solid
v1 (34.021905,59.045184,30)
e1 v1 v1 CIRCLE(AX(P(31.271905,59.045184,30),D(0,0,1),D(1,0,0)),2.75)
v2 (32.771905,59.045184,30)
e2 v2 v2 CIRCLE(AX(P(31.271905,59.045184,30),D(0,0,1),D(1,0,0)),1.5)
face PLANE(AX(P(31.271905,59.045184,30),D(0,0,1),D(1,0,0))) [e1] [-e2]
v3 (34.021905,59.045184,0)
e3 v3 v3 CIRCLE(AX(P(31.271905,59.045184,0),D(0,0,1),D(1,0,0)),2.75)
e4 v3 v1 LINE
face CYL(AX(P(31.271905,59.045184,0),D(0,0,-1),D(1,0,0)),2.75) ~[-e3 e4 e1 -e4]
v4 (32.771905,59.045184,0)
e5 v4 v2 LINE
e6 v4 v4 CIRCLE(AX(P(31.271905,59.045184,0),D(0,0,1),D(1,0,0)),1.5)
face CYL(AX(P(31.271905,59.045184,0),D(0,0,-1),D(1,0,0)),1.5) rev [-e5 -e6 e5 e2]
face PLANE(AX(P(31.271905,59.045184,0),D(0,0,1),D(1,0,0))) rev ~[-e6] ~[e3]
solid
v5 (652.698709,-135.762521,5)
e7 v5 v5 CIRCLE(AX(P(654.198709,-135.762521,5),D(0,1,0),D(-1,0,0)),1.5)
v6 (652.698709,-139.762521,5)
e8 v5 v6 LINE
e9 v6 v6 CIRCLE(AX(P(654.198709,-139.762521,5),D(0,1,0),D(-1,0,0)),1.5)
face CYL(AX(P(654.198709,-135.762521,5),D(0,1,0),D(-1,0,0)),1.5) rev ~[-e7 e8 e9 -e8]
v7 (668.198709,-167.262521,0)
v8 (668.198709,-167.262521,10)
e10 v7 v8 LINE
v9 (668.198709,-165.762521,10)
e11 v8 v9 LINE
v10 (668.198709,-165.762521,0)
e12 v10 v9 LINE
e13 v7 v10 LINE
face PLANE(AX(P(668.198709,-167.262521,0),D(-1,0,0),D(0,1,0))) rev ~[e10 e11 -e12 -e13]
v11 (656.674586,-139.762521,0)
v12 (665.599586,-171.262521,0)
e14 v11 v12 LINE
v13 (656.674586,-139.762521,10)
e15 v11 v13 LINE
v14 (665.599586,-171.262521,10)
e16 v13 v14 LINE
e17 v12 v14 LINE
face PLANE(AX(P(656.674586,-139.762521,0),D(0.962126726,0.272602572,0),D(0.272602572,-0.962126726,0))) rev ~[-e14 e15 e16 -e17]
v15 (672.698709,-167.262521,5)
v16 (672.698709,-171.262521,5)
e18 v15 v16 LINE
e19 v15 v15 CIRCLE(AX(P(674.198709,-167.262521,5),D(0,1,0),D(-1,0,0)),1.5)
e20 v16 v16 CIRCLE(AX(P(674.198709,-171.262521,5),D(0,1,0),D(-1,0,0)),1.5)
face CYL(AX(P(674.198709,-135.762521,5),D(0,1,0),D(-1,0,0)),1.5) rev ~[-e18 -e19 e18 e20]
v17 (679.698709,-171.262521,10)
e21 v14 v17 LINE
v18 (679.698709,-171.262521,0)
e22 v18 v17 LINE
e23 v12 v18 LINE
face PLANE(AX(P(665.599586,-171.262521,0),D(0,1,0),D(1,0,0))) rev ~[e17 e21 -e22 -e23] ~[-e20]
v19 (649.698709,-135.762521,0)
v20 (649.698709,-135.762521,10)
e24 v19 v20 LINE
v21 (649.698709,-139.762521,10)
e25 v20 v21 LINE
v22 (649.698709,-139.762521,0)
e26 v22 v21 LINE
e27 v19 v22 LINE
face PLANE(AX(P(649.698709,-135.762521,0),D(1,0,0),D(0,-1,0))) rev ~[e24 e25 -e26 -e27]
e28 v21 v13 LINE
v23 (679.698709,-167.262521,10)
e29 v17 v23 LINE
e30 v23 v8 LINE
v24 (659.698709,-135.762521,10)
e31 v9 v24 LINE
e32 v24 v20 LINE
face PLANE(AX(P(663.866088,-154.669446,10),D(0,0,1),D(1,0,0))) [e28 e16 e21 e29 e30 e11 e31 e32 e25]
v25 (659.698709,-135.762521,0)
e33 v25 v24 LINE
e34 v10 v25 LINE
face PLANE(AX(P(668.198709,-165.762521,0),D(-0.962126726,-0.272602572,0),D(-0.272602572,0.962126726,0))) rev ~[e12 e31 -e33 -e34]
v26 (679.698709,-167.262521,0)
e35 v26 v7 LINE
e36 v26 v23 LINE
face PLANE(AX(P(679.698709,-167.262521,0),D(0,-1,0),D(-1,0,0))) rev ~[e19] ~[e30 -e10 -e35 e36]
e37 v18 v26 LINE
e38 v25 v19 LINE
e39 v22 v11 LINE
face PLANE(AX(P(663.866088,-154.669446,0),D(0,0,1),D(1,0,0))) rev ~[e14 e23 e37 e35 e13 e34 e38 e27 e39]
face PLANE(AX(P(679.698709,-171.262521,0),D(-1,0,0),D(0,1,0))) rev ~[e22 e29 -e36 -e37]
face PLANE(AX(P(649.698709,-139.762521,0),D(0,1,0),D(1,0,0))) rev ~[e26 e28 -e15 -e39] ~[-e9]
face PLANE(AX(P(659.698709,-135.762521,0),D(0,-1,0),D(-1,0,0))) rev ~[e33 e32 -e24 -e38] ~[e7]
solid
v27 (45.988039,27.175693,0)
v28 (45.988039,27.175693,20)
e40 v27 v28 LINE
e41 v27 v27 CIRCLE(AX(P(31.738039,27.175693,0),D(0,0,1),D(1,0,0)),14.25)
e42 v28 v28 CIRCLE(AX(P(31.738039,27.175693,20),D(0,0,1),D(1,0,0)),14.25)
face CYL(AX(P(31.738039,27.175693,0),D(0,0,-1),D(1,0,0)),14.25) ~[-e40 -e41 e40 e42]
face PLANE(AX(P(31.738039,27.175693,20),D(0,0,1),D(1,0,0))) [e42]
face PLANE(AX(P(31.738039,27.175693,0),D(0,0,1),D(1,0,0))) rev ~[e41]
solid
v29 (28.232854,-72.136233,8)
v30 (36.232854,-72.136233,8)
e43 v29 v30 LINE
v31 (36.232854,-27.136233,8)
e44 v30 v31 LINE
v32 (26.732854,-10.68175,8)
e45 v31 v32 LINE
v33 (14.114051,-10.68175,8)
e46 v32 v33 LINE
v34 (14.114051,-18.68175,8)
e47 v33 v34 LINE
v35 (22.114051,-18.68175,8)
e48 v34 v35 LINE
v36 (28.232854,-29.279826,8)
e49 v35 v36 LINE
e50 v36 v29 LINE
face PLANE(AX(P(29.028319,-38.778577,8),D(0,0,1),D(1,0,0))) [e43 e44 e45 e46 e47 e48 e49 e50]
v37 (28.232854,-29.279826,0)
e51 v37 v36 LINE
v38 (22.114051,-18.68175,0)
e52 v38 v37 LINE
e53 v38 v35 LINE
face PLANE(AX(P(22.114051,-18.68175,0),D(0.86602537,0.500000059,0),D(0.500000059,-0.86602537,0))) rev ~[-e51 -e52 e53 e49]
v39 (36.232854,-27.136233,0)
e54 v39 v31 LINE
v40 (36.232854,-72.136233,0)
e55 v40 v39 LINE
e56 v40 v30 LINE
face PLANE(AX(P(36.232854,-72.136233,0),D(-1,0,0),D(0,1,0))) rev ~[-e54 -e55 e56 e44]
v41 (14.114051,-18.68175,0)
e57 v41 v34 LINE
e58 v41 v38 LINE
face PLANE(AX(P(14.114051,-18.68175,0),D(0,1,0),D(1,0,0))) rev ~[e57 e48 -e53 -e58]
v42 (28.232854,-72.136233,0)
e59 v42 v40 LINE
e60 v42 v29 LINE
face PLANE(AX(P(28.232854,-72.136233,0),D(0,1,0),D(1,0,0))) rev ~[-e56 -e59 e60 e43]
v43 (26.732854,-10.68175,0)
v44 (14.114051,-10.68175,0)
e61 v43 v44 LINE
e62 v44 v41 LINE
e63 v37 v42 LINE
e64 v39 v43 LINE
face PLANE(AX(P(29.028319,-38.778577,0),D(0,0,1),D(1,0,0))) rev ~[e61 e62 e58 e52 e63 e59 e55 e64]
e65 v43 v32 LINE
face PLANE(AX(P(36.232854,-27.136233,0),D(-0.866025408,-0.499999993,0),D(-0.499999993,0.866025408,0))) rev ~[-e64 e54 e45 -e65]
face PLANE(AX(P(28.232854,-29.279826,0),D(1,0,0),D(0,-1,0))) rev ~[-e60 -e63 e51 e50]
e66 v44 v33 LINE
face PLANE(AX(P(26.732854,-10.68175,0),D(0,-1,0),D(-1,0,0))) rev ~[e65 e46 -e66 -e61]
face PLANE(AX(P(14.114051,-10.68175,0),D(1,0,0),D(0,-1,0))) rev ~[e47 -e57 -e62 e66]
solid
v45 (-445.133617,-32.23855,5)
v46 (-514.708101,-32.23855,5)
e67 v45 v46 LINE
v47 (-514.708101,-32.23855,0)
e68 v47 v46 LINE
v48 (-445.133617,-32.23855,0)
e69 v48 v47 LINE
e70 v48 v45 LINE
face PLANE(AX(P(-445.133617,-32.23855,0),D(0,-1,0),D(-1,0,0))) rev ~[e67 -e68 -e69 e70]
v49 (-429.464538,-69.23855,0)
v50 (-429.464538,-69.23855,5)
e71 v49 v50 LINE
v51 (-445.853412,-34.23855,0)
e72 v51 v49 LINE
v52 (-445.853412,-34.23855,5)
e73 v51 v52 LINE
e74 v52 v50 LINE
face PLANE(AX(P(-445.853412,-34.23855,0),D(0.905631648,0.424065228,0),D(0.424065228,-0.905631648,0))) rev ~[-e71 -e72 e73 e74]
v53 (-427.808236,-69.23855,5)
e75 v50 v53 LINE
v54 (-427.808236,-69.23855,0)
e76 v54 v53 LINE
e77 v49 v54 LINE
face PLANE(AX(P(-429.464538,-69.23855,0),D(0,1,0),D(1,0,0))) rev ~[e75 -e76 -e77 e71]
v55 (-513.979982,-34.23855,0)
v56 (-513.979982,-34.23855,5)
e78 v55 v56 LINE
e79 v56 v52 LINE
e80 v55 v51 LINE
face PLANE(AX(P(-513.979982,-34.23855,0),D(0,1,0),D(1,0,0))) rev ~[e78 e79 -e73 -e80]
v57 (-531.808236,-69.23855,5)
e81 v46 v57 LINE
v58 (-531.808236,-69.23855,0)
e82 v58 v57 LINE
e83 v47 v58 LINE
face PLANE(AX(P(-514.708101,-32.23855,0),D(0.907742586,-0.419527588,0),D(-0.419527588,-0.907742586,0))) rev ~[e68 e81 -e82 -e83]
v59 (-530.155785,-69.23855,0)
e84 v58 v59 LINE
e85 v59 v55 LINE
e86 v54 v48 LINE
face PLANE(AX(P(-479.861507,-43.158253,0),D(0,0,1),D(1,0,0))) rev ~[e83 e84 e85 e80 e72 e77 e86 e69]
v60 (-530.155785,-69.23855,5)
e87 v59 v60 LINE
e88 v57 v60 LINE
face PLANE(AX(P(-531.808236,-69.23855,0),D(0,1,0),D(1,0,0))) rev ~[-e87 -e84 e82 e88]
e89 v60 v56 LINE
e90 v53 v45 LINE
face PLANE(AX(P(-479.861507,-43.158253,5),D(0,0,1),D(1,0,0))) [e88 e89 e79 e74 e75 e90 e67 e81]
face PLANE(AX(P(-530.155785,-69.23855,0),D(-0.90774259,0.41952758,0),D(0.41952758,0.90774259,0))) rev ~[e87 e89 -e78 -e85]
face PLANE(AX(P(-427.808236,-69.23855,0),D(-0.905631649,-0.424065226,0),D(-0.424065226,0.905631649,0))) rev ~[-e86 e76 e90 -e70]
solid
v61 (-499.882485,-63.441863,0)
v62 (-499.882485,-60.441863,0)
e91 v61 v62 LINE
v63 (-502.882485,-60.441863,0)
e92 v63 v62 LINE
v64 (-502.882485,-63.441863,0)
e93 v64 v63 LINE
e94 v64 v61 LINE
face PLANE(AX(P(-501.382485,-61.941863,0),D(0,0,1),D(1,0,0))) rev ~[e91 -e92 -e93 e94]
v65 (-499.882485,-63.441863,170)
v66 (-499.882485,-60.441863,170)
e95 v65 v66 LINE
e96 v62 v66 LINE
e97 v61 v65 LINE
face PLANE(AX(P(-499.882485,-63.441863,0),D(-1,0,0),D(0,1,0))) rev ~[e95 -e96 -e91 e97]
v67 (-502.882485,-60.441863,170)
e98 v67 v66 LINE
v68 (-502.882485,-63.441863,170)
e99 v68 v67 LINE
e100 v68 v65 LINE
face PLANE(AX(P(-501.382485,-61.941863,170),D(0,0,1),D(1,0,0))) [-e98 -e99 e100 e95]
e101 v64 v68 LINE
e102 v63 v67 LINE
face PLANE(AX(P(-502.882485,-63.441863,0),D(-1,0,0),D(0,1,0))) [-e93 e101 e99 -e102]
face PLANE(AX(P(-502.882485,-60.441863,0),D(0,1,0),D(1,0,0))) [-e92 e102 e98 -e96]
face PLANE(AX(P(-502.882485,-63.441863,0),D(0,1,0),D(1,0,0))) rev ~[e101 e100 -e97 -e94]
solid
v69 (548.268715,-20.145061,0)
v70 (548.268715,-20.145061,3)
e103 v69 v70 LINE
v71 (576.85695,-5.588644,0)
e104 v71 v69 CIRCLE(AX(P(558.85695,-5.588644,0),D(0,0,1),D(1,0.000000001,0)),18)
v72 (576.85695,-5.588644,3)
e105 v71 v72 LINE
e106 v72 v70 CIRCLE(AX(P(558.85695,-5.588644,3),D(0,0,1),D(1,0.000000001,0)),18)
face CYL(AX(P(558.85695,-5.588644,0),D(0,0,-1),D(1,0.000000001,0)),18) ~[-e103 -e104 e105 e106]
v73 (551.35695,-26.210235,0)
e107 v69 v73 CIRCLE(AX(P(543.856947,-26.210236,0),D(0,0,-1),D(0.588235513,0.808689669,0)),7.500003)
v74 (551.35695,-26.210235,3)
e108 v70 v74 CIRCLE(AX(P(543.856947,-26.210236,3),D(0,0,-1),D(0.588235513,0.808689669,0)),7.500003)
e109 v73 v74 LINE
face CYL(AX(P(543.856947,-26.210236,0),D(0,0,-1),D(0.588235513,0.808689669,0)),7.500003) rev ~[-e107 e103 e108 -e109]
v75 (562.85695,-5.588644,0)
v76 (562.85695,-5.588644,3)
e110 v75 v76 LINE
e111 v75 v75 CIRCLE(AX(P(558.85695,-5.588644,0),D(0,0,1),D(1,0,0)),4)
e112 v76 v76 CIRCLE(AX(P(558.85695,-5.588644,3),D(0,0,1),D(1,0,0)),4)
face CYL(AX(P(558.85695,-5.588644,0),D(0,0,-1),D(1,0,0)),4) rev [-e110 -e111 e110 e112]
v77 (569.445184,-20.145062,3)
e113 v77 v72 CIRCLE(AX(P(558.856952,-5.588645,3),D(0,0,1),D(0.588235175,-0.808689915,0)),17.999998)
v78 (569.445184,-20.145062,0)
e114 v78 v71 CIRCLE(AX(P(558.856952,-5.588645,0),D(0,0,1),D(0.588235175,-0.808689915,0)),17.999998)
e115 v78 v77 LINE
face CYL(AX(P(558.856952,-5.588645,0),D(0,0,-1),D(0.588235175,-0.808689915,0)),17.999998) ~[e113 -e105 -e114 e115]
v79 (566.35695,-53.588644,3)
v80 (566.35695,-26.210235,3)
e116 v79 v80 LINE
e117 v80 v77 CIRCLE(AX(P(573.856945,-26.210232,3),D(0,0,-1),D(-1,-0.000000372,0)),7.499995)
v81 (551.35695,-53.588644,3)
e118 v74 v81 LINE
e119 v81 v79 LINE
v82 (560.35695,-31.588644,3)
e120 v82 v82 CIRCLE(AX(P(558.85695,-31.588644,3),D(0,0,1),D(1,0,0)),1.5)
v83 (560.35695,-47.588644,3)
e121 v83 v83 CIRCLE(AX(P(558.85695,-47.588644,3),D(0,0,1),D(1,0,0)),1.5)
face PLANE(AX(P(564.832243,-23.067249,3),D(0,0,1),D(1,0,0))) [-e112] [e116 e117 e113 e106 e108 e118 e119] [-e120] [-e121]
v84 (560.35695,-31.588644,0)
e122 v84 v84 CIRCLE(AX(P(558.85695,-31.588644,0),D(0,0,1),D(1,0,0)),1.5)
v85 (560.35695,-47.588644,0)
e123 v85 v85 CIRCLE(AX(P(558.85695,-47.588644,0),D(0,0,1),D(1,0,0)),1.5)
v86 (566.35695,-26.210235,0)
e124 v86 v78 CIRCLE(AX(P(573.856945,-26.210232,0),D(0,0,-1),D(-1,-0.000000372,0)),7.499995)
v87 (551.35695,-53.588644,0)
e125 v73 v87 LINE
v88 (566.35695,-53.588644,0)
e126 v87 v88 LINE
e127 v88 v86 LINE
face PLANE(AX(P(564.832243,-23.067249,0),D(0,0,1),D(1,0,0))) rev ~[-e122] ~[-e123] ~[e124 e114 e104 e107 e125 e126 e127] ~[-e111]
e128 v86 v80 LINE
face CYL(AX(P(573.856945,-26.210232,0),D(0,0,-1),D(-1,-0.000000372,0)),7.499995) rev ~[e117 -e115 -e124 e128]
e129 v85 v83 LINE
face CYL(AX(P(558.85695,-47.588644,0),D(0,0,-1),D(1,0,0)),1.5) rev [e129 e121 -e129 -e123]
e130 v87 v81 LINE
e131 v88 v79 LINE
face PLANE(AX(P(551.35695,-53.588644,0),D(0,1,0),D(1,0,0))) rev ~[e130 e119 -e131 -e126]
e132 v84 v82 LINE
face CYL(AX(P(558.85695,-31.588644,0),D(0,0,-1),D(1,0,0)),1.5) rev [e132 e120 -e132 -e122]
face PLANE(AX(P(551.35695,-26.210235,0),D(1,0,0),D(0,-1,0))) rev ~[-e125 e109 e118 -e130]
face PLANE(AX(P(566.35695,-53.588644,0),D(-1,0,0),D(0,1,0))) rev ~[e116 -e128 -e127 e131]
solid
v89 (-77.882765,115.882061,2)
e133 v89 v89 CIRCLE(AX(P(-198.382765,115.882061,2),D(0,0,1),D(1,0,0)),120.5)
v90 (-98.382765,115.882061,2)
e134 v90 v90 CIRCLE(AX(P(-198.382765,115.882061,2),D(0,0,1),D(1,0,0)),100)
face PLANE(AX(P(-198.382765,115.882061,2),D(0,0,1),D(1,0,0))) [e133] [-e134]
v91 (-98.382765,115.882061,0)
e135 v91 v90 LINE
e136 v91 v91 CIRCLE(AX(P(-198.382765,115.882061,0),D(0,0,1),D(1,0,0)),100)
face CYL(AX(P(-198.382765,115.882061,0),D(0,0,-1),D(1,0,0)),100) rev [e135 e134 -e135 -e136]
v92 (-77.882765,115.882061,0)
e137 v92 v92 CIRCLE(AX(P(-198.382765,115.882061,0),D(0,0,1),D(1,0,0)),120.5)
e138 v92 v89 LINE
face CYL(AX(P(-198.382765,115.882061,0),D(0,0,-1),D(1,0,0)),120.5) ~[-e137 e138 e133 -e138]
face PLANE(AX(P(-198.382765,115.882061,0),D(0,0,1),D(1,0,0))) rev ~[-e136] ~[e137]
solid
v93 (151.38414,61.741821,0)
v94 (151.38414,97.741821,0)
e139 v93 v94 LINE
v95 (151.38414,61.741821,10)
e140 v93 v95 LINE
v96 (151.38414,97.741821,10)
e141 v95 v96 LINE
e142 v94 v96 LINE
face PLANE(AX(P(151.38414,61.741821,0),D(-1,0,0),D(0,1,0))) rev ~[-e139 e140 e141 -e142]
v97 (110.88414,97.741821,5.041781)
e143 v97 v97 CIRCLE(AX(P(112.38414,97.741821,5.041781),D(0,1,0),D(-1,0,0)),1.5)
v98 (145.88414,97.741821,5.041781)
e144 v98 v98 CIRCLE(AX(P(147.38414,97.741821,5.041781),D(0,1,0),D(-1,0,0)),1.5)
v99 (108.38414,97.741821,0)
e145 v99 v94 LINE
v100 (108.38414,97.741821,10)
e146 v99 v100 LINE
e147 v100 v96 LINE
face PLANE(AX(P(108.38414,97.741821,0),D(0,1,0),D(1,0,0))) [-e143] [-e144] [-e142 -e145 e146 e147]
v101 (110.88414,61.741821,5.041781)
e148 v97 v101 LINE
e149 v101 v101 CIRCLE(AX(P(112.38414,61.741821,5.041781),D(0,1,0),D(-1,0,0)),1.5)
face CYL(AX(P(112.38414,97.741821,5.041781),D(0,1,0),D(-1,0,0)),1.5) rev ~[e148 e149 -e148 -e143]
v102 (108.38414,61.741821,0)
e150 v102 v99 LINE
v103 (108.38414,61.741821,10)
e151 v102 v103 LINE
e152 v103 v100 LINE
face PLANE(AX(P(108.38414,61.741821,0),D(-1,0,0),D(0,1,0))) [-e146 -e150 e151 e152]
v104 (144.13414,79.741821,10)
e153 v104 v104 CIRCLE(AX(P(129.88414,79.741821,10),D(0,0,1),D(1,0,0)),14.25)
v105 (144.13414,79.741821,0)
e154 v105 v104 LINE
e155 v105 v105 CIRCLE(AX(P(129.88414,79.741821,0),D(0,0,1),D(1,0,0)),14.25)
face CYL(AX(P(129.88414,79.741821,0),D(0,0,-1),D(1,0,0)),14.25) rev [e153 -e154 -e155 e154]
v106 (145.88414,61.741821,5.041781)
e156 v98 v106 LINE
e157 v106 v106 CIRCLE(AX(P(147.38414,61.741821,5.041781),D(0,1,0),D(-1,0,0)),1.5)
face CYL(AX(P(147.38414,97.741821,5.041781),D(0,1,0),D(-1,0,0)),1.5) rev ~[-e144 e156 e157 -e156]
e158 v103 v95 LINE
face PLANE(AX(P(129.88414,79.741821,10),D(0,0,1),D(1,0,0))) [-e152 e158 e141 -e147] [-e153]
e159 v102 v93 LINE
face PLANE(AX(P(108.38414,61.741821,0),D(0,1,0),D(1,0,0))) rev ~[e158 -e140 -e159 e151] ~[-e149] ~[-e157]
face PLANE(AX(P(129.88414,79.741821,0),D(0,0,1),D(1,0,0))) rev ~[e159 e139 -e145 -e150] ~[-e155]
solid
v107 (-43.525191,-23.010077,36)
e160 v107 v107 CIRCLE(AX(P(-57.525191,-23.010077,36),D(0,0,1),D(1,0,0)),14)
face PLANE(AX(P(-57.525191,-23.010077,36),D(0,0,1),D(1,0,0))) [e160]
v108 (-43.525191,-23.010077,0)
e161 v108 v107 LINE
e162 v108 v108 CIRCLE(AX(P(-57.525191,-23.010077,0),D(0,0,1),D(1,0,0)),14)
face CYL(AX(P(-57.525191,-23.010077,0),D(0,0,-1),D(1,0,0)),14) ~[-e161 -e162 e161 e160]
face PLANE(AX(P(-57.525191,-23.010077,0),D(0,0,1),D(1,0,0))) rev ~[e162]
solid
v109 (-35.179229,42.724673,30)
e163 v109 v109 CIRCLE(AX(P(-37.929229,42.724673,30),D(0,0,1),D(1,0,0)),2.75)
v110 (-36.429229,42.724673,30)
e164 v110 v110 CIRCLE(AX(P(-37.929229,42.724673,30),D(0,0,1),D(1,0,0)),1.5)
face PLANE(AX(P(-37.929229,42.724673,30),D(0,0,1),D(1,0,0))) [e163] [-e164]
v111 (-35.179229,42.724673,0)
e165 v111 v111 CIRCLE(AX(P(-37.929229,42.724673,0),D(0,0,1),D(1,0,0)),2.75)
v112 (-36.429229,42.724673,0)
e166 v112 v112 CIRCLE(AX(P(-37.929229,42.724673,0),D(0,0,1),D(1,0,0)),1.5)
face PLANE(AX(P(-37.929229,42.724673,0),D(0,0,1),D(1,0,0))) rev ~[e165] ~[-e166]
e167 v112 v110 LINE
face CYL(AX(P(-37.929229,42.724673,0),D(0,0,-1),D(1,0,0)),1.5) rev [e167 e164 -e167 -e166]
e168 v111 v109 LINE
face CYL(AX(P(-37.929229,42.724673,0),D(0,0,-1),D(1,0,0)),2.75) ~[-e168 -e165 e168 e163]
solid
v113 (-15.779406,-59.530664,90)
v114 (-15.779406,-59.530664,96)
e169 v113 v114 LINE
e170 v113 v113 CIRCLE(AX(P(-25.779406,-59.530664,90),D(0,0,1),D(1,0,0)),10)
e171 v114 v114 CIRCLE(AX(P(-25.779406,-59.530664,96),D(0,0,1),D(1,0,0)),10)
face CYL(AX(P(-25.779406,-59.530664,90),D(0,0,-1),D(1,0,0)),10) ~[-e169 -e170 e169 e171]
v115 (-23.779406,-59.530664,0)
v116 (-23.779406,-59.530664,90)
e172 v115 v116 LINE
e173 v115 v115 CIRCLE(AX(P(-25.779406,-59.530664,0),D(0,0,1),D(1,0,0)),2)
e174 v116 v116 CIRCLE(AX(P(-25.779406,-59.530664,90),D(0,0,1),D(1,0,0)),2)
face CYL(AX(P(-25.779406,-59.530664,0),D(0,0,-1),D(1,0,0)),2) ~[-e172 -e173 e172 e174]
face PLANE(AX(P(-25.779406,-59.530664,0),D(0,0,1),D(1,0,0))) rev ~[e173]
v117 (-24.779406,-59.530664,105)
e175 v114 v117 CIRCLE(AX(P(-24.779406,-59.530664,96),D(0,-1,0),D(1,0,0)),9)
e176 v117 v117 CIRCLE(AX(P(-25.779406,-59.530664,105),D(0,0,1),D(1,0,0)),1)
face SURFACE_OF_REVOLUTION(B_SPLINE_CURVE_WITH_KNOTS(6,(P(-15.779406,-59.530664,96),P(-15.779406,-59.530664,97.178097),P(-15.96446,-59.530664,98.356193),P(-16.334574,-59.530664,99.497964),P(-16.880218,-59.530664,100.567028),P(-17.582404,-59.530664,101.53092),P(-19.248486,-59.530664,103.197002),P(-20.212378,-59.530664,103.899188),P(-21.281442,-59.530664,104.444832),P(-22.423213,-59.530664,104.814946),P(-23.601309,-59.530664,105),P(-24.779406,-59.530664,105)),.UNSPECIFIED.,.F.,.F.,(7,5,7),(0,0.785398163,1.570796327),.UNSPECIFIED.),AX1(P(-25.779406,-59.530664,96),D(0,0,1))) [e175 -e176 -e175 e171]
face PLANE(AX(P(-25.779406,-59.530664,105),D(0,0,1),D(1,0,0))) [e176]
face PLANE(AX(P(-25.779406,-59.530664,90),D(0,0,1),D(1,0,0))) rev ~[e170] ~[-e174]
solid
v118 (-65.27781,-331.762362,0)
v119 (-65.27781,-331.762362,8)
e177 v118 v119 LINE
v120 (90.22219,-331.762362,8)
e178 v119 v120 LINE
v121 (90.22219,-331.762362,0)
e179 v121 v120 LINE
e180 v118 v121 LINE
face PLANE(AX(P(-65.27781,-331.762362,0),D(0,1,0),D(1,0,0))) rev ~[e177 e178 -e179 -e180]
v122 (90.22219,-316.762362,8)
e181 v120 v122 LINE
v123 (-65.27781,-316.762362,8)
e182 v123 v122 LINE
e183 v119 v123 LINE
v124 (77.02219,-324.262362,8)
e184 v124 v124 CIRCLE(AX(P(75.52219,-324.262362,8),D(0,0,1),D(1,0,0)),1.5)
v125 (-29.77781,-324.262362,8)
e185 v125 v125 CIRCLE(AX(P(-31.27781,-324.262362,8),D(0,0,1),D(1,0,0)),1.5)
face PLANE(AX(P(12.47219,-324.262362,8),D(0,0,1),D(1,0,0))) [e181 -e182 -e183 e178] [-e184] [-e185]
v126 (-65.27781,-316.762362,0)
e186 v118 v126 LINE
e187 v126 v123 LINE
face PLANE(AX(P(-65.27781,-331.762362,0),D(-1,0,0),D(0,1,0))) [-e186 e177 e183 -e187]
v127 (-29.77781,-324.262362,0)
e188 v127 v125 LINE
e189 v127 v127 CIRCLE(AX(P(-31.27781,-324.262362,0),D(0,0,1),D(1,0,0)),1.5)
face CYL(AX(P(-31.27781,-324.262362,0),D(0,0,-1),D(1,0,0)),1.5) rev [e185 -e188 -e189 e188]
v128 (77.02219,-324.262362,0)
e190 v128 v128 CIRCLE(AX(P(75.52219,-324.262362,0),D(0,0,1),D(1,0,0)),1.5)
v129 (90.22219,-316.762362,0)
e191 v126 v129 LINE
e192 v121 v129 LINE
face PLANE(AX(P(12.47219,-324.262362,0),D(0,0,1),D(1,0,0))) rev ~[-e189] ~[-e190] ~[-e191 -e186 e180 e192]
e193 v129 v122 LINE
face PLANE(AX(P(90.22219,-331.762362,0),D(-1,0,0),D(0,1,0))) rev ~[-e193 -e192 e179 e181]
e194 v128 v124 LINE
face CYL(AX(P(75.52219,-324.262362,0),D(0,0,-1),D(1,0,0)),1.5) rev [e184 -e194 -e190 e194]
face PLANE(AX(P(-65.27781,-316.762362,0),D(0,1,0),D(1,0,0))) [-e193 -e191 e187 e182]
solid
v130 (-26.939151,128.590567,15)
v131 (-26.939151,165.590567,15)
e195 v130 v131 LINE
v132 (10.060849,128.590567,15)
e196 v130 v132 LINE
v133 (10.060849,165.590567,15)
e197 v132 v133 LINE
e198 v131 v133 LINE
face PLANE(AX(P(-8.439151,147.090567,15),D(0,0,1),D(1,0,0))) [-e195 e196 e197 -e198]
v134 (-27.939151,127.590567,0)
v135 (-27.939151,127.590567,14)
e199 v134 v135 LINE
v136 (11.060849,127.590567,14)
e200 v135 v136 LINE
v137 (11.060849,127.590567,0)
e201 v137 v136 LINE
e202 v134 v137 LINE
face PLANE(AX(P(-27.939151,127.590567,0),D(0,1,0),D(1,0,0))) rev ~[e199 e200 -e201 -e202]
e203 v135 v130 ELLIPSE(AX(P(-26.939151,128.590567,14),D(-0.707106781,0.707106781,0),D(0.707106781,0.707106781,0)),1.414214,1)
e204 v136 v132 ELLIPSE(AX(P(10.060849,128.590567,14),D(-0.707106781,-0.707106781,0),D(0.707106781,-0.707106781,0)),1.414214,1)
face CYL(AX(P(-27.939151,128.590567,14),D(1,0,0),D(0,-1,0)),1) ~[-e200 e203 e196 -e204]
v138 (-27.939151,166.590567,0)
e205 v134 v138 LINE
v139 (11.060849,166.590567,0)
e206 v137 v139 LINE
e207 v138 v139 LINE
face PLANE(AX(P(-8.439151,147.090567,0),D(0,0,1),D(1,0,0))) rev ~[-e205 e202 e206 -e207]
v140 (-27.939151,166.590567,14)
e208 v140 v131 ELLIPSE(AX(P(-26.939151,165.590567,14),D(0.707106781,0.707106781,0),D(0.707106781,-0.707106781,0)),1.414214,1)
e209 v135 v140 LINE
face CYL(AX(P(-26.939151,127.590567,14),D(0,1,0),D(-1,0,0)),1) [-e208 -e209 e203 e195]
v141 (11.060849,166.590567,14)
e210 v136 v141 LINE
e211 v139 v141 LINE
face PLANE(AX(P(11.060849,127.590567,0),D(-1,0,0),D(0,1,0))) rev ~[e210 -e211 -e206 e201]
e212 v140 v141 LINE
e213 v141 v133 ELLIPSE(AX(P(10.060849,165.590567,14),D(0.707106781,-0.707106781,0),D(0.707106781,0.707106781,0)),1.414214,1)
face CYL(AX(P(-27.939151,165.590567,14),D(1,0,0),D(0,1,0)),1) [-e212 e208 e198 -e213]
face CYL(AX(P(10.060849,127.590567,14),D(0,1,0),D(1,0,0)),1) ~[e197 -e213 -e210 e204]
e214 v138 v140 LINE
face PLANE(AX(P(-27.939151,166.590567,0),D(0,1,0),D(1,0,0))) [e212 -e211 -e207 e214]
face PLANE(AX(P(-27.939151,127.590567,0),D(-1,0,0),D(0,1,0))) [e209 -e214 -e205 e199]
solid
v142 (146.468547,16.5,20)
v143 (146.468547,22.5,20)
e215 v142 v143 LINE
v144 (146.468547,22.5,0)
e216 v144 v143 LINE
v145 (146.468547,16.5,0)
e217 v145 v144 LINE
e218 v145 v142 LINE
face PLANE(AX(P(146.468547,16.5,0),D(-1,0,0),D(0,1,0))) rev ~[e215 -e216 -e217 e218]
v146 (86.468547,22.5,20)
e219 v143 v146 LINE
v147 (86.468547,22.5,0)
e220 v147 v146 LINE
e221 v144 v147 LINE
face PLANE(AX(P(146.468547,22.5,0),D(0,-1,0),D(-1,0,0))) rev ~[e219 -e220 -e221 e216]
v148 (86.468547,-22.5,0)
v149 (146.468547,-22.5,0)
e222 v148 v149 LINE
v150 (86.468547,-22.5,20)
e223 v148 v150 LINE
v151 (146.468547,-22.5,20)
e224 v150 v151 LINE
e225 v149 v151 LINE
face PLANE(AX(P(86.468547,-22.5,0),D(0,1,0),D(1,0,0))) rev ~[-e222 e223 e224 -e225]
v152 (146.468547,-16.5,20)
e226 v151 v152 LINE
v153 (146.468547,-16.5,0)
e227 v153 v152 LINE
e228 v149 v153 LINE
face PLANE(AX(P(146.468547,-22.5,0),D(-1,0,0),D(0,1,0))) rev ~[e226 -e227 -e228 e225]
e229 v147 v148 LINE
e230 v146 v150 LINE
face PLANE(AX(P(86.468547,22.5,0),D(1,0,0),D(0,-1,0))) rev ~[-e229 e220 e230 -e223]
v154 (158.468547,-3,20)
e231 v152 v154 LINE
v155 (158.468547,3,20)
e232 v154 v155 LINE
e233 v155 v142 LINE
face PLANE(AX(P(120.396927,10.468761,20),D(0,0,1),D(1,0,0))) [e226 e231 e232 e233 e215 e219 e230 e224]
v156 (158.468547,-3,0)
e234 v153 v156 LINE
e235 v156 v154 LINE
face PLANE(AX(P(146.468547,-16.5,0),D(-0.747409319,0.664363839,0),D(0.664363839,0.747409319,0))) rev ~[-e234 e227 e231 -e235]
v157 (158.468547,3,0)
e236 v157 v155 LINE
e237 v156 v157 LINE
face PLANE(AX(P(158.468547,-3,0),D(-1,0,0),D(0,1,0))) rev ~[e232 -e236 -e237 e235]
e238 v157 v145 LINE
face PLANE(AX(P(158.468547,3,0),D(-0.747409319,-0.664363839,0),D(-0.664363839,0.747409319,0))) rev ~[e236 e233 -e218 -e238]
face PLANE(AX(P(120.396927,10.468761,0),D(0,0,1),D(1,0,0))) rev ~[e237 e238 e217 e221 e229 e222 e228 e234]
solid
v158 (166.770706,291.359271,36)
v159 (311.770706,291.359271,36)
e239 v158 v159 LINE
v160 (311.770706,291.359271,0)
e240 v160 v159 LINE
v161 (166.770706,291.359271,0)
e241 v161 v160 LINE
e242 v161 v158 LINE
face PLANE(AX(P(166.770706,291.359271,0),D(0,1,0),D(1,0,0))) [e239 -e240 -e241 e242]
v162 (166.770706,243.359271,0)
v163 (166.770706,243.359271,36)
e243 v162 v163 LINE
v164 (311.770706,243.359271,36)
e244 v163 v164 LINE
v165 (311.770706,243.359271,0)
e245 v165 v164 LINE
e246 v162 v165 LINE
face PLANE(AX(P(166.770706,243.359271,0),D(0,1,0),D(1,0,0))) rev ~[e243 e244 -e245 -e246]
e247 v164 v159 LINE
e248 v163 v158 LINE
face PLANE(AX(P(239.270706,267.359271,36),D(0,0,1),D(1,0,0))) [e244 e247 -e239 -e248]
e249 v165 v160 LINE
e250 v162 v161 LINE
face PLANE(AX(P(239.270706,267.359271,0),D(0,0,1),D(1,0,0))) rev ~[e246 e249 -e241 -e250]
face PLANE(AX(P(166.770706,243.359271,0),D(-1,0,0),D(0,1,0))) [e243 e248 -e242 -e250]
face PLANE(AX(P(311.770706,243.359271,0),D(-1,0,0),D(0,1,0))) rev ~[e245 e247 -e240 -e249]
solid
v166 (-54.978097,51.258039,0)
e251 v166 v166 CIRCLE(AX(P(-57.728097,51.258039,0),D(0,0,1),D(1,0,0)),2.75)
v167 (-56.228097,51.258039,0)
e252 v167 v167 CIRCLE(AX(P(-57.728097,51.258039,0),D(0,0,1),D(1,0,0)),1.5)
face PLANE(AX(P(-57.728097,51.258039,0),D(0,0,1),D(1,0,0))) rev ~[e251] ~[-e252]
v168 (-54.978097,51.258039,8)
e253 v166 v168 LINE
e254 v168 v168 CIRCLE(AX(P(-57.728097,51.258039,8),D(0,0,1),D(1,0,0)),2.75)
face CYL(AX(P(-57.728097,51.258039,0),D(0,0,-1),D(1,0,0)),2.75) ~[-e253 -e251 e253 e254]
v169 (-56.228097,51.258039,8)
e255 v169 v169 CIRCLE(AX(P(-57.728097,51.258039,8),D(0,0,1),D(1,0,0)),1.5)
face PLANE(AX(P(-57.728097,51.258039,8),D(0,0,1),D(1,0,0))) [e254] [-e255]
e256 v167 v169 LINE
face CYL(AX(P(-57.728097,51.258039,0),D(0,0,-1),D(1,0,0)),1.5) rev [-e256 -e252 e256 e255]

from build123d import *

# Parameters (mm, degrees)
F0_R      = 2.75
F0_R_2    = 1.5
F1_DEPTH  = 8
F2_R      = 2.75
F2_R_2    = 1.5
F3_DEPTH  = 30
F4_R      = 14.25
F5_DEPTH  = 20
F7_DEPTH  = 8
F8_R      = 14
F9_DEPTH  = 36
F11_DEPTH = 20
F12_W     = 43
F12_H     = 36
F12_R     = 14.25
F13_DEPTH = 10
F14_W     = 145
F14_H     = 48
F15_DEPTH = 36
F16_R     = 120.5
F16_R_2   = 100
F17_DEPTH = 2
F18_W     = 155.5
F18_H     = 15
F18_R     = 1.5
F19_DEPTH = 8
F20_R     = 2.75
F20_R_2   = 1.5
F21_DEPTH = 30
F22_W     = 39
F22_H     = 39
F23_DEPTH = 15
F24_R     = 1
F25_W     = 3
F25_H     = 3
F26_DEPTH = 170
F28_DEPTH = 5
F29_R     = 2
F30_DEPTH = 90
F31_R     = 10
F32_DEPTH = 15
F33_R     = 9
F35_DEPTH = 10
F36_R     = 1.5
F37_DEPTH = 40
F38_R     = 4
F38_R_2   = 1.5
F39_DEPTH = 3
F40_R     = 1.5
F41_DEPTH = 45


with BuildPart() as f1:
    # F0 (on Top) → F1 (new body)
    with BuildSketch(Plane.XY):
        with Locations((-57.728097, 51.258039)):
            Circle(F0_R)
        with Locations((-57.728097, 51.258039)):
            Circle(F0_R_2, mode=Mode.SUBTRACT)
    extrude(amount=F1_DEPTH)


with BuildPart() as f3:
    # F2 (on Top) → F3 (new body)
    with BuildSketch(Plane.XY):
        with Locations((-37.929229, 42.724673)):
            Circle(F2_R)
        with Locations((-37.929229, 42.724673)):
            Circle(F2_R_2, mode=Mode.SUBTRACT)
    extrude(amount=F3_DEPTH)


with BuildPart() as f5:
    # F4 (on Top) → F5 (new body)
    with BuildSketch(Plane.XY):
        with Locations((31.738039, 27.175693)):
            Circle(F4_R)
    extrude(amount=F5_DEPTH)


with BuildPart() as f7:
    # F6 (on Top) → F7 (new body)
    with BuildSketch(Plane.XY):
        Polygon((26.732854, -10.68175), (14.114051, -10.68175), (14.114051, -18.68175), (22.114051, -18.68175), (28.232854, -29.279826), (28.232854, -72.136233), (36.232854, -72.136233), (36.232854, -27.136233), align=None)
    extrude(amount=F7_DEPTH)


with BuildPart() as f9:
    # F8 (on Top) → F9 (new body)
    with BuildSketch(Plane.XY):
        with Locations((-57.525191, -23.010077)):
            Circle(F8_R)
    extrude(amount=F9_DEPTH)


with BuildPart() as f11:
    # F10 (on Top) → F11 (new body)
    with BuildSketch(Plane.XY):
        Polygon((86.468547, 0), (158.468547, 0), (158.468547, 3), (146.468547, 16.5), (146.468547, 22.5), (86.468547, 22.5), align=None)
        Polygon((158.468547, -3), (158.468547, 0), (86.468547, 0), (86.468547, -22.5), (146.468547, -22.5), (146.468547, -16.5), align=None)
    extrude(amount=F11_DEPTH)


with BuildPart() as f13:
    # F12 (on Top) → F13 (new body)
    with BuildSketch(Plane.XY):
        with Locations((129.88414, 79.741821)):
            Rectangle(F12_W, F12_H)
        with Locations((129.88414, 79.741821)):
            Circle(F12_R, mode=Mode.SUBTRACT)
    extrude(amount=F13_DEPTH)

    # F40 (on face) → F41 (cut)
    with BuildSketch(Plane(origin=(0, 97.741821, 0), x_dir=(-1, 0, 0), z_dir=(0, 1, 0))):
        with Locations((-112.38414, 5.041781)):
            Circle(F40_R)
        with Locations((-147.38414, 5.041781)):
            Circle(F40_R)
    extrude(amount=-F41_DEPTH, mode=Mode.SUBTRACT)


with BuildPart() as f15:
    # F14 (on Top) → F15 (new body)
    with BuildSketch(Plane.XY):
        with Locations((239.270706, 267.359271)):
            Rectangle(F14_W, F14_H)
    extrude(amount=F15_DEPTH)


with BuildPart() as f17:
    # F16 (on Top) → F17 (new body)
    with BuildSketch(Plane.XY):
        with Locations((-198.382765, 115.882061)):
            Circle(F16_R)
        with Locations((-198.382765, 115.882061)):
            Circle(F16_R_2, mode=Mode.SUBTRACT)
    extrude(amount=F17_DEPTH)


with BuildPart() as f19:
    # F18 (on Top) → F19 (new body)
    with BuildSketch(Plane.XY):
        with Locations((12.47219, -324.262362)):
            Rectangle(F18_W, F18_H)
        with Locations((-31.27781, -324.262362)):
            Circle(F18_R, mode=Mode.SUBTRACT)
        with Locations((75.52219, -324.262362)):
            Circle(F18_R, mode=Mode.SUBTRACT)
    extrude(amount=F19_DEPTH)


with BuildPart() as f21:
    # F20 (on Top) → F21 (new body)
    with BuildSketch(Plane.XY):
        with Locations((31.271905, 59.045184)):
            Circle(F20_R)
        with Locations((31.271905, 59.045184)):
            Circle(F20_R_2, mode=Mode.SUBTRACT)
    extrude(amount=F21_DEPTH)


with BuildPart() as f23:
    # F22 (on Top) → F23 (new body)
    with BuildSketch(Plane.XY):
        with Locations((-8.439151, 147.090567)):
            Rectangle(F22_W, F22_H)
    extrude(amount=F23_DEPTH)

    # F24
    f24_edges = [f23.edges().sort_by_distance(p)[0] for p in [
        (-8.439151, 166.590567, 15),
        (-27.939151, 147.090567, 15),
        (-8.439151, 127.590567, 15),
        (11.060849, 147.090567, 15),
    ]]
    fillet(f24_edges, radius=F24_R)


with BuildPart() as f26:
    # F25 (on Top) → F26 (new body)
    with BuildSketch(Plane.XY):
        with Locations((-501.382485, -61.941863)):
            Rectangle(F25_W, F25_H)
    extrude(amount=F26_DEPTH)


with BuildPart() as f28:
    # F27 (on Top) → F28 (new body)
    with BuildSketch(Plane.XY):
        Polygon((-514.708101, -32.23855), (-531.808236, -69.23855), (-530.155785, -69.23855), (-513.979982, -34.23855), (-445.853412, -34.23855), (-429.464538, -69.23855), (-427.808236, -69.23855), (-445.133617, -32.23855), align=None)
    extrude(amount=F28_DEPTH)


with BuildPart() as f30:
    # F29 (on Top) → F30 (new body)
    with BuildSketch(Plane.XY):
        with Locations((-25.779406, -59.530664)):
            Circle(F29_R)
    extrude(amount=F30_DEPTH)

    # F31 (on face) → F32 (join)
    with BuildSketch(Plane.XY.offset(90)):
        with Locations((-25.779406, -59.530664)):
            Circle(F31_R)
    extrude(amount=F32_DEPTH)

    # F33
    f33_edges = [f30.edges().sort_by_distance(p)[0] for p in [
        (-35.779406, -59.530664, 105),
    ]]
    fillet(f33_edges, radius=F33_R)


with BuildPart() as f35:
    # F34 (on Top) → F35 (new body)
    with BuildSketch(Plane.XY):
        Polygon((665.599586, -171.262521), (679.698709, -171.262521), (679.698709, -167.262521), (668.198709, -167.262521), (668.198709, -165.762521), (659.698709, -135.762521), (649.698709, -135.762521), (649.698709, -139.762521), (656.674586, -139.762521), align=None)
    extrude(amount=F35_DEPTH)

    # F36 (on face) → F37 (cut)
    with BuildSketch(Plane(origin=(0, -135.762521, 0), x_dir=(-1, 0, 0), z_dir=(0, 1, 0))):
        with Locations((-654.198709, 5)):
            Circle(F36_R)
        with Locations((-674.198709, 5)):
            Circle(F36_R)
    extrude(amount=-F37_DEPTH, mode=Mode.SUBTRACT)


with BuildPart() as f39:
    # F38 (on Top) → F39 (new body)
    with BuildSketch(Plane.XY):
        with BuildLine():
            Line((558.85695, -23.588644), (566.35695, -23.588644))
            Line((566.35695, -23.588644), (566.35695, -26.210235))
            ThreePointArc((566.35695, -26.210235), (567.173453, -22.807166), (569.445184, -20.145062))
            ThreePointArc((569.445184, -20.145062), (564.424017, -22.706114), (558.85695, -23.588644))
        make_face()
        with BuildLine():
            Line((551.35695, -23.588644), (558.85695, -23.588644))
            ThreePointArc((558.85695, -23.588644), (553.289882, -22.706114), (548.268715, -20.145061))
            ThreePointArc((548.268715, -20.145061), (550.540446, -22.807166), (551.35695, -26.210235))
            Line((551.35695, -26.210235), (551.35695, -23.588644))
        make_face()
        with BuildLine():
            ThreePointArc((548.268715, -20.145061), (553.289882, -22.706114), (558.85695, -23.588644))
            ThreePointArc((558.85695, -23.588644), (564.424017, -22.706114), (569.445184, -20.145062))
            ThreePointArc((569.445184, -20.145062), (574.89734, -13.756012), (576.85695, -5.588644))
            ThreePointArc((576.85695, -5.588644), (550.689583, 10.451746), (548.268715, -20.145061))
        make_face()
        with Locations((558.85695, -5.588644)):
            Circle(F38_R, mode=Mode.SUBTRACT)
        Polygon((566.35695, -26.210235), (566.35695, -23.588644), (558.85695, -23.588644), (551.35695, -23.588644), (551.35695, -26.210235), (551.35695, -53.588644), (566.35695, -53.588644), align=None)
        with Locations((558.85695, -47.588644)):
            Circle(F38_R_2, mode=Mode.SUBTRACT)
        with Locations((558.85695, -31.588644)):
            Circle(F38_R_2, mode=Mode.SUBTRACT)
    extrude(amount=F39_DEPTH)


solid = Compound([f1.part, f3.part, f5.part, f7.part, f9.part, f11.part, f13.part, f15.part, f17.part, f19.part, f21.part, f23.part, f26.part, f28.part, f30.part, f35.part, f39.part])
